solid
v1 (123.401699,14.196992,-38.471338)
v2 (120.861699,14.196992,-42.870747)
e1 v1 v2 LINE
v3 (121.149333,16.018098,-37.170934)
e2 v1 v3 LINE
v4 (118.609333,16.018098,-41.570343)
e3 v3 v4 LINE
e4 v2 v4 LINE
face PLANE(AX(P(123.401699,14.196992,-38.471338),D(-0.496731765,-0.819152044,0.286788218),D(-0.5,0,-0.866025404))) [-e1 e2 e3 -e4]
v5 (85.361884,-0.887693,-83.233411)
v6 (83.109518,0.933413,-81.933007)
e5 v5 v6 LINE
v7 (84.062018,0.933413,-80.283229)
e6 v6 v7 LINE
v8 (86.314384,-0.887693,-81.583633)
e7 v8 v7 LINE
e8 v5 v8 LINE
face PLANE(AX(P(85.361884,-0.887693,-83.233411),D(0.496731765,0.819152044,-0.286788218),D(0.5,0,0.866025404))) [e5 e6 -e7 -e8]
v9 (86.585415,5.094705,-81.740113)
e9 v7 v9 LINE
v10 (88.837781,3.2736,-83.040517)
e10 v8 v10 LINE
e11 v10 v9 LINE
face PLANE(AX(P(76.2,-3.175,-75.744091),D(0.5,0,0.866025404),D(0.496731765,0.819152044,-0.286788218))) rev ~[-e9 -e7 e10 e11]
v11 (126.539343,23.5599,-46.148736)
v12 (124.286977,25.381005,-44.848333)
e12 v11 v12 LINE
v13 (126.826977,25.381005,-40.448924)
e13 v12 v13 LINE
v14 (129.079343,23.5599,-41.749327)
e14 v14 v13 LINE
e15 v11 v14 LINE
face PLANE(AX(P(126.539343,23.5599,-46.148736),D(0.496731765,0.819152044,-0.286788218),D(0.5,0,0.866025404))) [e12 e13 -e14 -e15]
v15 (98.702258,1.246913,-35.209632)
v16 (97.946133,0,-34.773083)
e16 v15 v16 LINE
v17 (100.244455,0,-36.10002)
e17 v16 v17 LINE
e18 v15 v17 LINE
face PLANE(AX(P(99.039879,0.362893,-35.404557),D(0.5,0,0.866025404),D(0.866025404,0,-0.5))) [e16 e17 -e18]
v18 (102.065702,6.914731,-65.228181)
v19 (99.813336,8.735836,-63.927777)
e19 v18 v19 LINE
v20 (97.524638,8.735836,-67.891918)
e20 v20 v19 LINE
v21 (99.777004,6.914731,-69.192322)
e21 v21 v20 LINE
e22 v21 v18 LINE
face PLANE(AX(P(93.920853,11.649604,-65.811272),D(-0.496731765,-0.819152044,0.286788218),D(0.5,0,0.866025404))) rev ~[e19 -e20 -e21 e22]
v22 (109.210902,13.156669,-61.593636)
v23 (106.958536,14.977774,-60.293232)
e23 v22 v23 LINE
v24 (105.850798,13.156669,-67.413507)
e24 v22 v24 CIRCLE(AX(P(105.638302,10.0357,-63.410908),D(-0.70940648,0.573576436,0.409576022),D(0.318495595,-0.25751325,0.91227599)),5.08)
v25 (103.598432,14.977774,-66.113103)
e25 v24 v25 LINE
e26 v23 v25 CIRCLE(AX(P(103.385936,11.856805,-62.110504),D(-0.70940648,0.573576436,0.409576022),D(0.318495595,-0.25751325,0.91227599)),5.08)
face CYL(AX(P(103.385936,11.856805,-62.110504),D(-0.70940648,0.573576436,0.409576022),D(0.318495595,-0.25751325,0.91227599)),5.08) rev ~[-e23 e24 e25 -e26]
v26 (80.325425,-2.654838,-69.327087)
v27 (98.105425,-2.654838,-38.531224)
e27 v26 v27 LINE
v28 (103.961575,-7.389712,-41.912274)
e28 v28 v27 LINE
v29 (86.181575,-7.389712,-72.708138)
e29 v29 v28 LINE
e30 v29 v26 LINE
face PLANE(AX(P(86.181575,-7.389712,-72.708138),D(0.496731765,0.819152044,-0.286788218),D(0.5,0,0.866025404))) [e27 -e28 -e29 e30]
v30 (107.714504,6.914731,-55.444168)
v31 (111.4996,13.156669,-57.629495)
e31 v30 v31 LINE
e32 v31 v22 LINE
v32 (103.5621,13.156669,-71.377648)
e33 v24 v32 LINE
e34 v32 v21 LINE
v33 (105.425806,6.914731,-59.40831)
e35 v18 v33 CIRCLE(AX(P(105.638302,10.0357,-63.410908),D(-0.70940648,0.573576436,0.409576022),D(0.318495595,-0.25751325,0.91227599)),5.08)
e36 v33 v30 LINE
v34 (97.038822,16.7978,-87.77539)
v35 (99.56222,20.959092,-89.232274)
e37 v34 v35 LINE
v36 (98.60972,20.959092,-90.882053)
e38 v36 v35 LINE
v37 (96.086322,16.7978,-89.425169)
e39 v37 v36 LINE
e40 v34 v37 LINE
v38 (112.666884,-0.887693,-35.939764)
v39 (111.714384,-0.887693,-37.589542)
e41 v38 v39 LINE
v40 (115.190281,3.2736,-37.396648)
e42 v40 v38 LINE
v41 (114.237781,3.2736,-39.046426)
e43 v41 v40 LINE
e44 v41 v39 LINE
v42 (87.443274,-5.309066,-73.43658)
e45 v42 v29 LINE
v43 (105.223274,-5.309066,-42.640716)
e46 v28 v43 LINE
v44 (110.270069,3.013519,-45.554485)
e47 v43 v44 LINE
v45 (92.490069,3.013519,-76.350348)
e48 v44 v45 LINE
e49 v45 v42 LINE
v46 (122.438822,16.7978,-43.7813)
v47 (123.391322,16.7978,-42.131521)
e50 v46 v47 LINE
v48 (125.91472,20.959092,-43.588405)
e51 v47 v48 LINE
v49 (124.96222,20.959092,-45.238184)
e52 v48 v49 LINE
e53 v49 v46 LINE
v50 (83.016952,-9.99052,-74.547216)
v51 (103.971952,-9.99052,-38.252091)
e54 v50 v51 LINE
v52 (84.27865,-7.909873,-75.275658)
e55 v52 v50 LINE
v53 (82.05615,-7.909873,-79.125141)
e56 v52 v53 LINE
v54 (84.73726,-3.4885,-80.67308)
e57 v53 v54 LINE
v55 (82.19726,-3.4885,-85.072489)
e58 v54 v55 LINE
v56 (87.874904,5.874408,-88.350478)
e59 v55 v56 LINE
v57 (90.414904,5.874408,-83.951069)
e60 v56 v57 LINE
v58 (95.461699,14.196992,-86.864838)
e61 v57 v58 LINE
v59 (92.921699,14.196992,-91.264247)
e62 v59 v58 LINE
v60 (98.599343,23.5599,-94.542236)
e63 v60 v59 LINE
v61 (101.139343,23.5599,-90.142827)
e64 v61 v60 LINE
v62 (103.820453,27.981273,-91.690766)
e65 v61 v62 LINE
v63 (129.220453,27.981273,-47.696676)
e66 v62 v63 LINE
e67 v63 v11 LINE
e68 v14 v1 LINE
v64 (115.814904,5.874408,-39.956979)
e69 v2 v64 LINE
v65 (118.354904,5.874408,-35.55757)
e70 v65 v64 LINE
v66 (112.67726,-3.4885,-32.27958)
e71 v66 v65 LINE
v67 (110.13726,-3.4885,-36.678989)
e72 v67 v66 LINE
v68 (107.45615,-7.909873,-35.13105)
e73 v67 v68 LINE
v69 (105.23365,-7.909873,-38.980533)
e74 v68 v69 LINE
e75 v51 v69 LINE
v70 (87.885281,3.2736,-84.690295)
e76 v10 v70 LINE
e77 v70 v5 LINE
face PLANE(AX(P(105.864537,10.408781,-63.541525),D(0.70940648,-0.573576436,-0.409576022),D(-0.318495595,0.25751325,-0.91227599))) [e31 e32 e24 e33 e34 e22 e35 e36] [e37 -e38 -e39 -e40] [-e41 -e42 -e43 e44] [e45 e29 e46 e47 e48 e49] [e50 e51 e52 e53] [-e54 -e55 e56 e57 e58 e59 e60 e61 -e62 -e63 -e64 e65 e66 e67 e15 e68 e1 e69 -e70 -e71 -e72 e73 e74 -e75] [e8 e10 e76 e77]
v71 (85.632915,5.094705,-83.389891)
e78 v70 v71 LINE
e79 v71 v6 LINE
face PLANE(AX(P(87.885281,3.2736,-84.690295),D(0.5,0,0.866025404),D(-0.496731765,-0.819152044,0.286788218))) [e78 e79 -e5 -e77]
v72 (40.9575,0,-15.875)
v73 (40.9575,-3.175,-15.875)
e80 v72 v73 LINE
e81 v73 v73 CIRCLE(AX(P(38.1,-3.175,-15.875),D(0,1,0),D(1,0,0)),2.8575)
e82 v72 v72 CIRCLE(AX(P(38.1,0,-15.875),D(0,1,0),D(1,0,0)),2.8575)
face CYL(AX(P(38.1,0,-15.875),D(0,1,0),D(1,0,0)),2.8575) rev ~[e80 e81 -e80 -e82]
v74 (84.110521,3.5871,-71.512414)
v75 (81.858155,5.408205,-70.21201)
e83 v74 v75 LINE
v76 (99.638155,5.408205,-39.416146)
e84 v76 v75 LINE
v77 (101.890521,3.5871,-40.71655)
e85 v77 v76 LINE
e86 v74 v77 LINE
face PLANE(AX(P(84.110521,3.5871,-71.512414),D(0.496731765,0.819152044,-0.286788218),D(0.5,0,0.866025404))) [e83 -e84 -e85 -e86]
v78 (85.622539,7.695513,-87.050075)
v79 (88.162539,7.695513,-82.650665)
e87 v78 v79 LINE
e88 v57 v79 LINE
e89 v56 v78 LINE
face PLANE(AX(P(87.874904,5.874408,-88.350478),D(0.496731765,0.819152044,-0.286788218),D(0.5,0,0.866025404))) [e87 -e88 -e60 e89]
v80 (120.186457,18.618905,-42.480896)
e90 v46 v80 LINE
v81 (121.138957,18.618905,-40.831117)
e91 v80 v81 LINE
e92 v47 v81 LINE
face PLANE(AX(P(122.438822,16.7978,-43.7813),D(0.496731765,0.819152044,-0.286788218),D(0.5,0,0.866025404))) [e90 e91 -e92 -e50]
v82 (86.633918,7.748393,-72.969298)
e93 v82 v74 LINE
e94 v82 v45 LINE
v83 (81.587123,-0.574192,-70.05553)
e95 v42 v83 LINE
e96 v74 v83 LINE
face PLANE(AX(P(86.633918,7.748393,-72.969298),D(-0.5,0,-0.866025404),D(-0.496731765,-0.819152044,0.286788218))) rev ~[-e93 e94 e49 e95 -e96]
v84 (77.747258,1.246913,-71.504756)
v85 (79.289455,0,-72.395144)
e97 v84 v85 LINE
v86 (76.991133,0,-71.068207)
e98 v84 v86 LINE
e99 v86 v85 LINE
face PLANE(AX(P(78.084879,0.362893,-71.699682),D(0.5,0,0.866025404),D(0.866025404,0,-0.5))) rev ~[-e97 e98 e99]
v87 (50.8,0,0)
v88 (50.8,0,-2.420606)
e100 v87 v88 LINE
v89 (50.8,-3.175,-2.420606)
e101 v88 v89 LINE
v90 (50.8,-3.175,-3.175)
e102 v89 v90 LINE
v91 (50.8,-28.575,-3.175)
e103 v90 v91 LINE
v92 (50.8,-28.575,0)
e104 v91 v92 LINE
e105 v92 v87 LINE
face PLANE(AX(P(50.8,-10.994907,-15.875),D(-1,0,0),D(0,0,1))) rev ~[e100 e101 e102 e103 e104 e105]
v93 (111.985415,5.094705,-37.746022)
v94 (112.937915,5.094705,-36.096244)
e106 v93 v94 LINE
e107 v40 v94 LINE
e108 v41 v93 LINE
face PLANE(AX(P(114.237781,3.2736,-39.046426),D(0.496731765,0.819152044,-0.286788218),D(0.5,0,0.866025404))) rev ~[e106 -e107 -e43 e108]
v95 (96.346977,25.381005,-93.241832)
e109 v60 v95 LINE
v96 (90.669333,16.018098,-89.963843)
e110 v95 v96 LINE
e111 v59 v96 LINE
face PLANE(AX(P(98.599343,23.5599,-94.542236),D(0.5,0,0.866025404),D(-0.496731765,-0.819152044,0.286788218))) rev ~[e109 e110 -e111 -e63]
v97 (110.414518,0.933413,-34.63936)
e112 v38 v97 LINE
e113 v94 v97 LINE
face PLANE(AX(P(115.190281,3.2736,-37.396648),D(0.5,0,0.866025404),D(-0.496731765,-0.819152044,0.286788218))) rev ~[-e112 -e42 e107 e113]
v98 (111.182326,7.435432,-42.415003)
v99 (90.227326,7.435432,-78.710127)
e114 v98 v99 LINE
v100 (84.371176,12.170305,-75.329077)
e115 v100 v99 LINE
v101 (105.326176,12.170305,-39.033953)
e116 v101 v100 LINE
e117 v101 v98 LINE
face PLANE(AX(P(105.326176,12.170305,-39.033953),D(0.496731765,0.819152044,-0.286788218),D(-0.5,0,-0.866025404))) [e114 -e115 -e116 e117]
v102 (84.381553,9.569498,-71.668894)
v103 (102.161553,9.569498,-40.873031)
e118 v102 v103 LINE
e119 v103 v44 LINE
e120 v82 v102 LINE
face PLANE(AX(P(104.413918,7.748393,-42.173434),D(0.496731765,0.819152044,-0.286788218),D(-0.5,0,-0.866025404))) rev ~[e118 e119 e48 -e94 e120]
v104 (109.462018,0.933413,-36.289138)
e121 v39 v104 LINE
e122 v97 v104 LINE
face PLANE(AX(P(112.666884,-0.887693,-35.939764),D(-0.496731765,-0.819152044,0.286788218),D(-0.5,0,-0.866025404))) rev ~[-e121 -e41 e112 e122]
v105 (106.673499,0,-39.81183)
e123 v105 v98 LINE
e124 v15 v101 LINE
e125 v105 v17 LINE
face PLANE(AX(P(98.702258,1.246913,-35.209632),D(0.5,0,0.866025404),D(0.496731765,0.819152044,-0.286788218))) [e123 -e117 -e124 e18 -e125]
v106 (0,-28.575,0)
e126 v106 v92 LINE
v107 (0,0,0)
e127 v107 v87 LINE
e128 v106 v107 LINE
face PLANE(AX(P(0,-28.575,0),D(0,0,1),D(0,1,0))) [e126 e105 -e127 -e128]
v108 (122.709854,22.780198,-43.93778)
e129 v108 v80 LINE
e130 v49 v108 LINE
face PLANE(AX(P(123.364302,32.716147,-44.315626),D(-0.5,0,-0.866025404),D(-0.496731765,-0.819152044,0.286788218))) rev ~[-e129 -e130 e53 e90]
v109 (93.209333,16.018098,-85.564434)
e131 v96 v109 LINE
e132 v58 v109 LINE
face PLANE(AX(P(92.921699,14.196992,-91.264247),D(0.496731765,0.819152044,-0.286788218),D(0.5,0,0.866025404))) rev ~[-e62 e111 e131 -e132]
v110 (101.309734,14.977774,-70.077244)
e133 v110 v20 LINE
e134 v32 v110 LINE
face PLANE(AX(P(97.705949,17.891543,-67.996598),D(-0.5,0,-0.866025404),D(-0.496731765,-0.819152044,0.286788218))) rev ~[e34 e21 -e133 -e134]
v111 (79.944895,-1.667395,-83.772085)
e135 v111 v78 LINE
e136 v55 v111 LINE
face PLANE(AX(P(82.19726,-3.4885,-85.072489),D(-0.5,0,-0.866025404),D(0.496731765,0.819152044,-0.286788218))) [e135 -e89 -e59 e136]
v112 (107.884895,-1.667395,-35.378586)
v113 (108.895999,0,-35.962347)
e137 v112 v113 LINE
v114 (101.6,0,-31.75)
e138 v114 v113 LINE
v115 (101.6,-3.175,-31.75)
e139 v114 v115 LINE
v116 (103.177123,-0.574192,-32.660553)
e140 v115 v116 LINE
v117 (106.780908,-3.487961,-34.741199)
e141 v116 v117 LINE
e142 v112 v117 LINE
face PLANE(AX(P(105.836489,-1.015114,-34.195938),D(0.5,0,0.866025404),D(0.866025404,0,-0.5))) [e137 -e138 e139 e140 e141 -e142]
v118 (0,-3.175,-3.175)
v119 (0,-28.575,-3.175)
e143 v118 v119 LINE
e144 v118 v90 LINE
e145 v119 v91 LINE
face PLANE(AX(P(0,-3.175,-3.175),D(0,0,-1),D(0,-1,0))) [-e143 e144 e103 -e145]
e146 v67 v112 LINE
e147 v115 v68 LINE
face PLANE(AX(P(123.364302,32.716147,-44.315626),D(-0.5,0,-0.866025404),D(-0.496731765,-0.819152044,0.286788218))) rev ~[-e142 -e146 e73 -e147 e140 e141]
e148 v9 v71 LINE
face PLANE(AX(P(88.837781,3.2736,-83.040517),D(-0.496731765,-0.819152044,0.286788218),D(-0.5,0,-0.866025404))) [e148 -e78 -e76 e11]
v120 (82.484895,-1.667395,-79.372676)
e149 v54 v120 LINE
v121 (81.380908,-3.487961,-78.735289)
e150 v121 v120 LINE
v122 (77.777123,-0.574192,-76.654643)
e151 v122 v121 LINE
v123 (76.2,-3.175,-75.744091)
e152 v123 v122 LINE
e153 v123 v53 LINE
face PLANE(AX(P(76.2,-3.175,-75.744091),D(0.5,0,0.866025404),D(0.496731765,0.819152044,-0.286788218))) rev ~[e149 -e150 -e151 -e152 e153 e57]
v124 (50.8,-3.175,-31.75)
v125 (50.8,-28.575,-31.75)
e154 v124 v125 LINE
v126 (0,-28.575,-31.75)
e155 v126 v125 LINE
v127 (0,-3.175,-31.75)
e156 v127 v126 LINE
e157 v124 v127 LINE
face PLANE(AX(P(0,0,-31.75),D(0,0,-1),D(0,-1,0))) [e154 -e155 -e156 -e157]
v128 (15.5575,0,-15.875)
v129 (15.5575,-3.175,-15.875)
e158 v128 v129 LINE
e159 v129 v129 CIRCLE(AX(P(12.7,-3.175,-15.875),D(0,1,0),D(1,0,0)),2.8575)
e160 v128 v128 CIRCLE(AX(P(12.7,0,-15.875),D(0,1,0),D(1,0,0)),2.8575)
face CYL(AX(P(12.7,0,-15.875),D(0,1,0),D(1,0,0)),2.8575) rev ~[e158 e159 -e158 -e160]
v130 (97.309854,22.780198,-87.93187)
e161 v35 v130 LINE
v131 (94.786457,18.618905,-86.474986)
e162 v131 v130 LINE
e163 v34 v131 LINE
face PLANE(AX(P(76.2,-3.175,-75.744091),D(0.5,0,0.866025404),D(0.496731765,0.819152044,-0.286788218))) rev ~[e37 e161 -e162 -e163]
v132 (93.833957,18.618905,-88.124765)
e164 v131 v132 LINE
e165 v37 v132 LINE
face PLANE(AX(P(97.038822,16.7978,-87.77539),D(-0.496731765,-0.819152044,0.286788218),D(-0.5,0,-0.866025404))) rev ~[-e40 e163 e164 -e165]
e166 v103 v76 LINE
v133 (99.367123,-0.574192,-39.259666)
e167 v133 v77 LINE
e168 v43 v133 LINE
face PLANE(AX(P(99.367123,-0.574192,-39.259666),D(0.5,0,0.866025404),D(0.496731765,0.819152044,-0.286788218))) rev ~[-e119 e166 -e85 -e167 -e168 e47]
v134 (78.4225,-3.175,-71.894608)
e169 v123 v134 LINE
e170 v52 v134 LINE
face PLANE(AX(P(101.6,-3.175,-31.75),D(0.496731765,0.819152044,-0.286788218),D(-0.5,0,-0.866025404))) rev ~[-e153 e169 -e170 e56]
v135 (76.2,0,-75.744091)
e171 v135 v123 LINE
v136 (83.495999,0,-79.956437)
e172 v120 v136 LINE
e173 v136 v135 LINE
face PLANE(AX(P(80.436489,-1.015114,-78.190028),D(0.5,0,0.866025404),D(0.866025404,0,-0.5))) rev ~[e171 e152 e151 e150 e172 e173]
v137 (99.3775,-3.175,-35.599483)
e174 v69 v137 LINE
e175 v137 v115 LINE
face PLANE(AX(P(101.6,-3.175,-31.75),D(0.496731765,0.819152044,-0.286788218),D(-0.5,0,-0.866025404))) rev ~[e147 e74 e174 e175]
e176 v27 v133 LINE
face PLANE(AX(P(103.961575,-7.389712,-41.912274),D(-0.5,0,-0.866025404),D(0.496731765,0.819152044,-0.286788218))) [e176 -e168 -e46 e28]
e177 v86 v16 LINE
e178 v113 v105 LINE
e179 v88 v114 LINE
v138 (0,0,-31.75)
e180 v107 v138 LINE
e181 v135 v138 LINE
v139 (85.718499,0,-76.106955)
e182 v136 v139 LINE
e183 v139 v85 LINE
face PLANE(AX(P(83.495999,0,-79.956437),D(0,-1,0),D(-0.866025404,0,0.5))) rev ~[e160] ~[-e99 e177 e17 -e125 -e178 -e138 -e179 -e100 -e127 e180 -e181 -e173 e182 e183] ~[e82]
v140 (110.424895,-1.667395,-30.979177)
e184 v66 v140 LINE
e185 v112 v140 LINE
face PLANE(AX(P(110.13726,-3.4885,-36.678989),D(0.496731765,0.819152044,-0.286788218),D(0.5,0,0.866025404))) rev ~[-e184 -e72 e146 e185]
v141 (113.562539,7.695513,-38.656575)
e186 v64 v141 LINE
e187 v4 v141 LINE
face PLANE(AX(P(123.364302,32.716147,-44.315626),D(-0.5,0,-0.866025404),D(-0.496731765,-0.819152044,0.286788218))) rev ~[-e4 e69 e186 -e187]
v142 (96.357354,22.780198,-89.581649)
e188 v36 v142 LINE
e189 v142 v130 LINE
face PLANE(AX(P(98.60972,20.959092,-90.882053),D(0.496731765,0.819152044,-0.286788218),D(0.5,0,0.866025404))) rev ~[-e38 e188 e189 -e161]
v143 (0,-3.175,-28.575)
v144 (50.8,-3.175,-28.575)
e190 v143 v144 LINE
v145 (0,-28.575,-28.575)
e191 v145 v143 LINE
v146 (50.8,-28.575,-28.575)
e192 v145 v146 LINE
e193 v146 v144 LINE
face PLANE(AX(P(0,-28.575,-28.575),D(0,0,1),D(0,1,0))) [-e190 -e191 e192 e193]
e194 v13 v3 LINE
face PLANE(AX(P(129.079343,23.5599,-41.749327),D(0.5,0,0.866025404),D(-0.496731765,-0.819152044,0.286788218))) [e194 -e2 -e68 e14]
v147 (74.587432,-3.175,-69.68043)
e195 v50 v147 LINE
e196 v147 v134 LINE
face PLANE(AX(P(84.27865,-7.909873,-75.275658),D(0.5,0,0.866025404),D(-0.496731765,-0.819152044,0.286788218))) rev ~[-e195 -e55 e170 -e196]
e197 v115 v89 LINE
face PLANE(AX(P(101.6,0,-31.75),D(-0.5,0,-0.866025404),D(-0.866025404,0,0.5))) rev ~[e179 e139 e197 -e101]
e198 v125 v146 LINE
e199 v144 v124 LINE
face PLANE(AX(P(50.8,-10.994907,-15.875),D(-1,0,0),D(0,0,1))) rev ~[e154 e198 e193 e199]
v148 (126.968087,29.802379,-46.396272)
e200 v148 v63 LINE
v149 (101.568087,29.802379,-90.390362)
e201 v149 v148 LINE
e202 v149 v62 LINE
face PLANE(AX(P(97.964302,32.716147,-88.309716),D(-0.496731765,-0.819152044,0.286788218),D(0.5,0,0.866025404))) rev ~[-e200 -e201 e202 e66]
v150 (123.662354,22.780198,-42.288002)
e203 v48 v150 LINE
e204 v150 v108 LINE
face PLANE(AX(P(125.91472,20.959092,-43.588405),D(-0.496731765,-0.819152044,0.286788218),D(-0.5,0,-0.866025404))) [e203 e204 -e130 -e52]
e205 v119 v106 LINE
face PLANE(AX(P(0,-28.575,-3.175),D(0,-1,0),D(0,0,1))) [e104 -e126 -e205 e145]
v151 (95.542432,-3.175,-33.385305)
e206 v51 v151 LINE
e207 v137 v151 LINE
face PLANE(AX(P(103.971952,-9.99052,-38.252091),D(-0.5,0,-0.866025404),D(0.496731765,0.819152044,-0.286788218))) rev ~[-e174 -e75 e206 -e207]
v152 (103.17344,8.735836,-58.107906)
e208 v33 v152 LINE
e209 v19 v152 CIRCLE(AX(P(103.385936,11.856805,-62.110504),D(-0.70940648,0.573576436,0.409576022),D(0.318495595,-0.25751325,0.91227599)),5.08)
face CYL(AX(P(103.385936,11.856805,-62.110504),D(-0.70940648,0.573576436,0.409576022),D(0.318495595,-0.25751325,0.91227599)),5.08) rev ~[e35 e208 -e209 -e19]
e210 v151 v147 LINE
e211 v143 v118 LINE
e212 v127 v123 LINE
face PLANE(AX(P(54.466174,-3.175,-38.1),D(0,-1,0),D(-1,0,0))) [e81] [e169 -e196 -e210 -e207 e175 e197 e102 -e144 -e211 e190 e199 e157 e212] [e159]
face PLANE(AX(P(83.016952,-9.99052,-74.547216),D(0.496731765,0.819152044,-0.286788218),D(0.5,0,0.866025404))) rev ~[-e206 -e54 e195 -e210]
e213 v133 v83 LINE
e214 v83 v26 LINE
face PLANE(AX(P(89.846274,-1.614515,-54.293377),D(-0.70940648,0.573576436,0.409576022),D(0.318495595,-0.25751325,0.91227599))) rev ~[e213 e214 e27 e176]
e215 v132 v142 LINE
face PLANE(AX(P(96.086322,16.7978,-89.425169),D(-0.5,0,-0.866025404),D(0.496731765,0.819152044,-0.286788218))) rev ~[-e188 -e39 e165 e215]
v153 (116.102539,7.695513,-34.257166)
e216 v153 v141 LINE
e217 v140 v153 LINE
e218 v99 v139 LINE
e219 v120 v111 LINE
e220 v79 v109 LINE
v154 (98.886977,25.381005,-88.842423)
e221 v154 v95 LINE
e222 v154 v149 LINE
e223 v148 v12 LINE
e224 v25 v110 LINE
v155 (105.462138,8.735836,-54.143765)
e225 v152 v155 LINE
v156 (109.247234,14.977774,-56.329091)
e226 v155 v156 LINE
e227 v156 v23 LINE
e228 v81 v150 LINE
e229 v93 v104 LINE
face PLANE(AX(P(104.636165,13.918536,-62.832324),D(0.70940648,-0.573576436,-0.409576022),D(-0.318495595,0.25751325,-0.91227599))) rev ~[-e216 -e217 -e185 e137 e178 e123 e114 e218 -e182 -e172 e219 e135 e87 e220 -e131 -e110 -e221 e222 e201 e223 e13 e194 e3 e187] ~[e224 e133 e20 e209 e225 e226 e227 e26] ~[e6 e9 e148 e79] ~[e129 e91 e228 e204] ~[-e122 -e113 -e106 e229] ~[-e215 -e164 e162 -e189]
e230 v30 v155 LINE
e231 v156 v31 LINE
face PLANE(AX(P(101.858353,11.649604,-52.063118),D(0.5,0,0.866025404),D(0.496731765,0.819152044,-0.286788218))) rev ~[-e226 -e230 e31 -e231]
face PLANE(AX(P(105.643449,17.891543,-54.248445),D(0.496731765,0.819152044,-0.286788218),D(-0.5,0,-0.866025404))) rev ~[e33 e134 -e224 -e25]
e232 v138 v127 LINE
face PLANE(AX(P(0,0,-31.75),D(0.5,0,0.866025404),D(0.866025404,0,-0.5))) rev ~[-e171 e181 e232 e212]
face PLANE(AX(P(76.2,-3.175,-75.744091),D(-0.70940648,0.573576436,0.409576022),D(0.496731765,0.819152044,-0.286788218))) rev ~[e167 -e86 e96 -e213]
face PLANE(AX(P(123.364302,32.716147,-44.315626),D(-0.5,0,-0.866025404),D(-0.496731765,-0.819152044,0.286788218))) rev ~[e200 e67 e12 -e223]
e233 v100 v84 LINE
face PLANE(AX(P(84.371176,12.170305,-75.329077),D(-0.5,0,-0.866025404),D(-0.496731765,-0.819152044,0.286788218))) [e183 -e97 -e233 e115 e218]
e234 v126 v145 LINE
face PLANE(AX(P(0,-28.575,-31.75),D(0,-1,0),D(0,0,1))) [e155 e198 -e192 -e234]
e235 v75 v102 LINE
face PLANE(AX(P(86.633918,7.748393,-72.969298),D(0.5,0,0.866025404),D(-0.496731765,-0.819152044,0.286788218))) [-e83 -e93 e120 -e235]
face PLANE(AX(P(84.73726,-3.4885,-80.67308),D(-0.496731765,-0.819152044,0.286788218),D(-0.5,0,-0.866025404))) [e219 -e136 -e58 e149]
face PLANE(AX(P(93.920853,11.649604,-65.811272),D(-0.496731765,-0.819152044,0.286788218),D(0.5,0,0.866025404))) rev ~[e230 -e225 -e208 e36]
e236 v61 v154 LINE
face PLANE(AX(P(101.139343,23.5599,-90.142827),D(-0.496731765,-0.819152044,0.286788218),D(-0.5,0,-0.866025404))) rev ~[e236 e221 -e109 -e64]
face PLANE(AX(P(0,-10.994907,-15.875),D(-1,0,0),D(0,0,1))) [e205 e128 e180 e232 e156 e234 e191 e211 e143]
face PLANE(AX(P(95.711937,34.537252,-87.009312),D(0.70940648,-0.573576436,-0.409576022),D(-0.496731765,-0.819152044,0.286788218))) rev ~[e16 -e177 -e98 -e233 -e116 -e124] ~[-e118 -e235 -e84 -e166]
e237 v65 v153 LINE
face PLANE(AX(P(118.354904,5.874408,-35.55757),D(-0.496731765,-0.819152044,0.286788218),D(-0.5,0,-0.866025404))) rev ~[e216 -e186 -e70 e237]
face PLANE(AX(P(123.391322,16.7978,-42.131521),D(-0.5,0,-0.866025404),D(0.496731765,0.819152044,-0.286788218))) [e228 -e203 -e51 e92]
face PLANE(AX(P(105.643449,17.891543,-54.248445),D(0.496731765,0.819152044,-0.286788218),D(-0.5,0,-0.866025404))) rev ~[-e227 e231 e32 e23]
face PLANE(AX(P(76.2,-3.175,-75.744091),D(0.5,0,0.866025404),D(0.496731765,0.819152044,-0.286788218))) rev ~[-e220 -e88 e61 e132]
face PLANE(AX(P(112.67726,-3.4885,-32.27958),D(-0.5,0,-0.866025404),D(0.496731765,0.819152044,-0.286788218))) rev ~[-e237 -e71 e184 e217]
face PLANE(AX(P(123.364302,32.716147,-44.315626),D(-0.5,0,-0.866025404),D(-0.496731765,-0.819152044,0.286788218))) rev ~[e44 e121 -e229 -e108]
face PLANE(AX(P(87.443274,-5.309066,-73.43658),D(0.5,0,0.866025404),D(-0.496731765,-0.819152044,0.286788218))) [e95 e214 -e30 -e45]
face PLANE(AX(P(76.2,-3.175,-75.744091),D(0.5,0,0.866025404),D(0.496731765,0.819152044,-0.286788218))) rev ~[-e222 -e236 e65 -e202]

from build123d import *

# Parameters (mm, degrees)
BOSS_EXTRUDE1_DEPTH  = 50.8
SKETCH3_R            = 2.8575
CUT_EXTRUDE1_DEPTH   = 29.575
BOSS_EXTRUDE2_DEPTH  = 3.175
BOSS_EXTRUDE4_DEPTH  = 50.8
CUT_EXTRUDE2_REACH   = 108.711
BOSS_EXTRUDE5_DEPTH  = 8.255
BOSS_EXTRUDE6_REACH  = 116.966
CUT_EXTRUDE3_DEPTH   = 8.255
BOSS_EXTRUDE10_DEPTH = 3.175
BOSS_EXTRUDE11_DEPTH = 8.255
CUT_EXTRUDE4_START   = -11.43
CUT_EXTRUDE4_DEPTH   = 8.255
BOSS_EXTRUDE12_DEPTH = 4.445
CUT_EXTRUDE5_DEPTH   = 4.445
BOSS_EXTRUDE13_START = -50.8
BOSS_EXTRUDE13_DEPTH = 4.445
CUT_EXTRUDE6_START   = -50.8
CUT_EXTRUDE6_DEPTH   = 4.445
SKETCH18_R           = 5.08
CUT_EXTRUDE7_DEPTH   = 55.801163899


with BuildPart() as part:
    # Sketch2 → Boss-Extrude1 (new body)
    with BuildSketch(Plane(origin=(0, 0, 0), x_dir=(0, 0, -1), z_dir=(1, 0, 0))):
        Polygon((0, 0), (31.75, 0), (31.75, -28.575), (28.575, -28.575), (28.575, -3.175), (3.175, -3.175), (3.175, -28.575), (0, -28.575), align=None)
    extrude(amount=BOSS_EXTRUDE1_DEPTH)

    # Sketch3 → Cut-Extrude1 (cut, through all)
    with BuildSketch(Plane(origin=(0, 0, 0), x_dir=(1, 0, 0), z_dir=(0, 1, 0))):
        with Locations((12.7, 15.875)):
            Circle(SKETCH3_R)
        with Locations((38.1, 15.875)):
            Circle(SKETCH3_R)
    extrude(amount=-CUT_EXTRUDE1_DEPTH, mode=Mode.SUBTRACT)

    # Sketch4 → Boss-Extrude2 (add)
    with BuildSketch(Plane(origin=(0, 0, 0), x_dir=(1, 0, 0), z_dir=(0, 1, 0))):
        Polygon((0, 31.75), (76.2, 75.744090512), (101.6, 31.75), (50.8, 2.420606325), (50.8, 31.75), align=None)
    extrude(amount=-BOSS_EXTRUDE2_DEPTH)

    # Sketch6 → Boss-Extrude4 (add)
    with BuildSketch(Plane(origin=(-13.748153285, 0, -23.8125), x_dir=(-0.866025404, 0, 0.5), z_dir=(-0.5, 0, -0.866025404))):
        Polygon((-103.863181024, -3.175), (-128.994432583, 32.716146821), (-126.393624843, 34.537252006), (-102.210380639, 0), (-103.863181024, 0), align=None)
    extrude(amount=-BOSS_EXTRUDE4_DEPTH)

    # Sketch7 → Cut-Extrude2 (cut, up to next)
    with BuildSketch(Plane(origin=(61.648020601, -49.844275413, -35.592501289), x_dir=(-0.318495595, 0.25751325, -0.91227599), z_dir=(0.70940648, -0.573576436, -0.409576022)), mode=Mode.PRIVATE) as cut_extrude2_sk1:
        Polygon((20.449889648, 80.334208308), (35.520058582, 75.3436539), (33.124592466, 68.109972811), (18.054423532, 73.100527219), align=None)
    cut_extrude2_tool1 = extrude(cut_extrude2_sk1.sketch, amount=-CUT_EXTRUDE2_REACH, mode=Mode.PRIVATE) & part.part
    add(cut_extrude2_tool1.solids().sort_by_distance((99.782151, 14.770573, -60.029858))[0], mode=Mode.SUBTRACT)
    # Sketch7 → Cut-Extrude2 (cut, up to next)
    with BuildSketch(Plane(origin=(61.648020601, -49.844275413, -35.592501289), x_dir=(-0.318495595, 0.25751325, -0.91227599), z_dir=(0.70940648, -0.573576436, -0.409576022)), mode=Mode.PRIVATE) as cut_extrude2_sk2:
        Polygon((7.213752471, 71.673620272), (40.970930883, 60.494778398), (39.373953472, 55.672324339), (5.61677506, 66.851166213), align=None)
    cut_extrude2_tool2 = extrude(cut_extrude2_sk2.sketch, amount=-CUT_EXTRUDE2_REACH, mode=Mode.PRIVATE) & part.part
    add(cut_extrude2_tool2.solids().sort_by_distance((94.262219, 5.667746, -56.842924))[0], mode=Mode.SUBTRACT)

    # Sketch8 → Boss-Extrude5 (add)
    with BuildSketch(Plane(origin=(61.648020601, -49.844275413, -35.592501289), x_dir=(-0.318495595, 0.25751325, -0.91227599), z_dir=(0.70940648, -0.573576436, -0.409576022))):
        Polygon((-4.21199432, 61.410144483), (44.012546269, 45.440370378), (57.786476434, 87.034036636), (9.561935845, 103.003810741), align=None)
        Polygon((11.577858751, 98.991666073), (-0.199849652, 63.426067388), (41.996623363, 49.452515046), (53.774331766, 85.018113731), align=None, mode=Mode.SUBTRACT)
    extrude(amount=BOSS_EXTRUDE5_DEPTH)

    # Boss-Extrude6: up to this face of the body (flat: up to its plane)
    boss_extrude6_end = Plane(part.part.faces().sort_by_distance((50.815624122, -3.175, -33.129894289))[0])
    # Sketch9 → Boss-Extrude6 (add, up to the picked face)
    with BuildSketch(Plane(origin=(67.504171093, -54.579148895, -38.973551352), x_dir=(-0.318495595, 0.25751325, -0.91227599), z_dir=(0.70940648, -0.573576436, -0.409576022)), mode=Mode.PRIVATE) as boss_extrude6_sk1:
        Polygon((0.007652981, 60.012789249), (39.792898967, 46.837725612), (38.994410262, 44.426498583), (-0.790835724, 57.601562219), align=None)
    boss_extrude6_tool1 = split(extrude(boss_extrude6_sk1.sketch, amount=-BOSS_EXTRUDE6_REACH, mode=Mode.PRIVATE), bisect_by=boss_extrude6_end, keep=Keep.BOTH, mode=Mode.PRIVATE)
    add(boss_extrude6_tool1.solids().sort_by_distance((94.125301, -8.950197, -56.763874))[0])

    # Sketch10 → Cut-Extrude3 (cut)
    with BuildSketch(Plane(origin=(67.504171093, -54.579148895, -38.973551352), x_dir=(-0.318495595, 0.25751325, -0.91227599), z_dir=(0.70940648, -0.573576436, -0.409576022))):
        Polygon((4.019797649, 62.028712154), (37.776976062, 50.84987028), (36.978487357, 48.438643251), (3.221308944, 59.617485125), align=None)
    extrude(amount=-CUT_EXTRUDE3_DEPTH, mode=Mode.SUBTRACT)

    # Sketch14 → Boss-Extrude10 (add)
    with BuildSketch(Plane(origin=(67.504171093, -54.579148895, -38.973551352), x_dir=(-0.318495595, 0.25751325, -0.91227599), z_dir=(0.70940648, -0.573576436, -0.409576022))):
        Polygon((-2.515205822, 66.534001921), (-7.337659881, 68.130979331), (-3.744460707, 78.981500964), (1.077993352, 77.384523553), (0.07988247, 74.370489766), (-1.728537802, 74.969356295), (-3.325515212, 70.146902236), (-1.51709494, 69.548035707), align=None)
        Polygon((5.058616193, 95.464786046), (6.867036465, 94.865919517), (7.865147347, 97.879953304), (3.042693288, 99.476930714), (-0.550505886, 88.626409082), (4.271948173, 87.029431671), (5.270059055, 90.043465458), (3.461638782, 90.642331987), align=None)
        Polygon((55.303019916, 73.474824824), (56.899997326, 78.297278883), (55.091577054, 78.896145411), (56.089687936, 81.910179198), (60.912141995, 80.313201788), (57.318942821, 69.462680155), (52.496488762, 71.059657566), (53.494599644, 74.073691353), align=None)
        Polygon((48.515865921, 52.979395073), (46.707445649, 53.578261602), (45.709334767, 50.564227815), (50.531788826, 48.967250405), (54.124988, 59.817772037), (49.302533941, 61.414749448), (48.304423059, 58.400715661), (50.112843331, 57.801849132), align=None)
    extrude(amount=-BOSS_EXTRUDE10_DEPTH)

    # Sketch15 → Boss-Extrude11 (add)
    with BuildSketch(Plane(origin=(61.648020601, -49.844275413, -35.592501289), x_dir=(-0.318495595, 0.25751325, -0.91227599), z_dir=(0.70940648, -0.573576436, -0.409576022))):
        Polygon((4.019797649, 62.028712154), (7.213752471, 71.673620272), (40.970930883, 60.494778398), (37.776976062, 50.84987028), (41.996623363, 49.452515046), (53.774331766, 85.018113731), (11.577858751, 98.991666073), (-0.199849652, 63.426067388), align=None)
        Polygon((20.449889648, 80.334208308), (35.520058582, 75.3436539), (33.124592466, 68.109972811), (18.054423532, 73.100527219), align=None, mode=Mode.SUBTRACT)
    extrude(amount=BOSS_EXTRUDE11_DEPTH)

    # Sketch16 → Cut-Extrude4 (cut)
    with BuildSketch(Plane(origin=(67.504171093, -54.579148895, -38.973551352), x_dir=(-0.318495595, 0.25751325, -0.91227599), z_dir=(0.70940648, -0.573576436, -0.409576022)).offset(CUT_EXTRUDE4_START)):
        Polygon((9.561935845, 103.003810741), (-3.213883439, 64.42417827), (1.005763863, 63.026823036), (5.197829565, 75.68576494), (44.983075551, 62.510701303), (40.791009849, 49.851759399), (45.01065715, 48.454404165), (57.786476434, 87.034036636), align=None)
    extrude(amount=CUT_EXTRUDE4_DEPTH, mode=Mode.SUBTRACT)

    # Sketch17 → Boss-Extrude12 (add)
    with BuildSketch(Plane(origin=(11.651846715, 0, 20.181590512), x_dir=(0.866025404, 0, -0.5), z_dir=(0.5, 0, 0.866025404))):
        Polygon((111.120352225, -1.667395138), (112.287874869, 0), (104.864254679, 0), (109.845578595, -3.487960556), align=None)
    extrude(amount=-BOSS_EXTRUDE12_DEPTH)

    # Sketch17<3> → Cut-Extrude5 (cut)
    with BuildSketch(Plane(origin=(11.651846715, 0, 20.181590512), x_dir=(0.866025404, 0, -0.5), z_dir=(0.5, 0, 0.866025404))):
        Polygon((102.210380639, 0), (104.864254679, 0), (103.083478469, 1.246912926), align=None)
    extrude(amount=-CUT_EXTRUDE5_DEPTH, mode=Mode.SUBTRACT)

    # Sketch17<4> → Boss-Extrude13 (add)
    with BuildSketch(Plane(origin=(11.651846715, 0, 20.181590512), x_dir=(0.866025404, 0, -0.5), z_dir=(0.5, 0, 0.866025404)).offset(BOSS_EXTRUDE13_START)):
        Polygon((111.120352225, -1.667395138), (112.287874869, 0), (104.864254679, 0), (109.845578595, -3.487960556), align=None)
    extrude(amount=BOSS_EXTRUDE13_DEPTH)

    # Sketch17<5> → Cut-Extrude6 (cut)
    with BuildSketch(Plane(origin=(11.651846715, 0, 20.181590512), x_dir=(0.866025404, 0, -0.5), z_dir=(0.5, 0, 0.866025404)).offset(CUT_EXTRUDE6_START)):
        Polygon((102.210380639, 0), (104.864254679, 0), (103.083478469, 1.246912926), align=None)
    extrude(amount=CUT_EXTRUDE6_DEPTH, mode=Mode.SUBTRACT)

    # Sketch18 → Cut-Extrude7 (cut, through all)
    with BuildSketch(Plane(origin=(65.251805519, -52.758043709, -37.673147481), x_dir=(0.318495595, -0.25751325, 0.91227599), z_dir=(-0.70940648, 0.573576436, 0.409576022))):
        with Locations((-26.787241057, 74.222090559)):
            Circle(SKETCH18_R)
    extrude(amount=-CUT_EXTRUDE7_DEPTH, mode=Mode.SUBTRACT)


solid = part.part
